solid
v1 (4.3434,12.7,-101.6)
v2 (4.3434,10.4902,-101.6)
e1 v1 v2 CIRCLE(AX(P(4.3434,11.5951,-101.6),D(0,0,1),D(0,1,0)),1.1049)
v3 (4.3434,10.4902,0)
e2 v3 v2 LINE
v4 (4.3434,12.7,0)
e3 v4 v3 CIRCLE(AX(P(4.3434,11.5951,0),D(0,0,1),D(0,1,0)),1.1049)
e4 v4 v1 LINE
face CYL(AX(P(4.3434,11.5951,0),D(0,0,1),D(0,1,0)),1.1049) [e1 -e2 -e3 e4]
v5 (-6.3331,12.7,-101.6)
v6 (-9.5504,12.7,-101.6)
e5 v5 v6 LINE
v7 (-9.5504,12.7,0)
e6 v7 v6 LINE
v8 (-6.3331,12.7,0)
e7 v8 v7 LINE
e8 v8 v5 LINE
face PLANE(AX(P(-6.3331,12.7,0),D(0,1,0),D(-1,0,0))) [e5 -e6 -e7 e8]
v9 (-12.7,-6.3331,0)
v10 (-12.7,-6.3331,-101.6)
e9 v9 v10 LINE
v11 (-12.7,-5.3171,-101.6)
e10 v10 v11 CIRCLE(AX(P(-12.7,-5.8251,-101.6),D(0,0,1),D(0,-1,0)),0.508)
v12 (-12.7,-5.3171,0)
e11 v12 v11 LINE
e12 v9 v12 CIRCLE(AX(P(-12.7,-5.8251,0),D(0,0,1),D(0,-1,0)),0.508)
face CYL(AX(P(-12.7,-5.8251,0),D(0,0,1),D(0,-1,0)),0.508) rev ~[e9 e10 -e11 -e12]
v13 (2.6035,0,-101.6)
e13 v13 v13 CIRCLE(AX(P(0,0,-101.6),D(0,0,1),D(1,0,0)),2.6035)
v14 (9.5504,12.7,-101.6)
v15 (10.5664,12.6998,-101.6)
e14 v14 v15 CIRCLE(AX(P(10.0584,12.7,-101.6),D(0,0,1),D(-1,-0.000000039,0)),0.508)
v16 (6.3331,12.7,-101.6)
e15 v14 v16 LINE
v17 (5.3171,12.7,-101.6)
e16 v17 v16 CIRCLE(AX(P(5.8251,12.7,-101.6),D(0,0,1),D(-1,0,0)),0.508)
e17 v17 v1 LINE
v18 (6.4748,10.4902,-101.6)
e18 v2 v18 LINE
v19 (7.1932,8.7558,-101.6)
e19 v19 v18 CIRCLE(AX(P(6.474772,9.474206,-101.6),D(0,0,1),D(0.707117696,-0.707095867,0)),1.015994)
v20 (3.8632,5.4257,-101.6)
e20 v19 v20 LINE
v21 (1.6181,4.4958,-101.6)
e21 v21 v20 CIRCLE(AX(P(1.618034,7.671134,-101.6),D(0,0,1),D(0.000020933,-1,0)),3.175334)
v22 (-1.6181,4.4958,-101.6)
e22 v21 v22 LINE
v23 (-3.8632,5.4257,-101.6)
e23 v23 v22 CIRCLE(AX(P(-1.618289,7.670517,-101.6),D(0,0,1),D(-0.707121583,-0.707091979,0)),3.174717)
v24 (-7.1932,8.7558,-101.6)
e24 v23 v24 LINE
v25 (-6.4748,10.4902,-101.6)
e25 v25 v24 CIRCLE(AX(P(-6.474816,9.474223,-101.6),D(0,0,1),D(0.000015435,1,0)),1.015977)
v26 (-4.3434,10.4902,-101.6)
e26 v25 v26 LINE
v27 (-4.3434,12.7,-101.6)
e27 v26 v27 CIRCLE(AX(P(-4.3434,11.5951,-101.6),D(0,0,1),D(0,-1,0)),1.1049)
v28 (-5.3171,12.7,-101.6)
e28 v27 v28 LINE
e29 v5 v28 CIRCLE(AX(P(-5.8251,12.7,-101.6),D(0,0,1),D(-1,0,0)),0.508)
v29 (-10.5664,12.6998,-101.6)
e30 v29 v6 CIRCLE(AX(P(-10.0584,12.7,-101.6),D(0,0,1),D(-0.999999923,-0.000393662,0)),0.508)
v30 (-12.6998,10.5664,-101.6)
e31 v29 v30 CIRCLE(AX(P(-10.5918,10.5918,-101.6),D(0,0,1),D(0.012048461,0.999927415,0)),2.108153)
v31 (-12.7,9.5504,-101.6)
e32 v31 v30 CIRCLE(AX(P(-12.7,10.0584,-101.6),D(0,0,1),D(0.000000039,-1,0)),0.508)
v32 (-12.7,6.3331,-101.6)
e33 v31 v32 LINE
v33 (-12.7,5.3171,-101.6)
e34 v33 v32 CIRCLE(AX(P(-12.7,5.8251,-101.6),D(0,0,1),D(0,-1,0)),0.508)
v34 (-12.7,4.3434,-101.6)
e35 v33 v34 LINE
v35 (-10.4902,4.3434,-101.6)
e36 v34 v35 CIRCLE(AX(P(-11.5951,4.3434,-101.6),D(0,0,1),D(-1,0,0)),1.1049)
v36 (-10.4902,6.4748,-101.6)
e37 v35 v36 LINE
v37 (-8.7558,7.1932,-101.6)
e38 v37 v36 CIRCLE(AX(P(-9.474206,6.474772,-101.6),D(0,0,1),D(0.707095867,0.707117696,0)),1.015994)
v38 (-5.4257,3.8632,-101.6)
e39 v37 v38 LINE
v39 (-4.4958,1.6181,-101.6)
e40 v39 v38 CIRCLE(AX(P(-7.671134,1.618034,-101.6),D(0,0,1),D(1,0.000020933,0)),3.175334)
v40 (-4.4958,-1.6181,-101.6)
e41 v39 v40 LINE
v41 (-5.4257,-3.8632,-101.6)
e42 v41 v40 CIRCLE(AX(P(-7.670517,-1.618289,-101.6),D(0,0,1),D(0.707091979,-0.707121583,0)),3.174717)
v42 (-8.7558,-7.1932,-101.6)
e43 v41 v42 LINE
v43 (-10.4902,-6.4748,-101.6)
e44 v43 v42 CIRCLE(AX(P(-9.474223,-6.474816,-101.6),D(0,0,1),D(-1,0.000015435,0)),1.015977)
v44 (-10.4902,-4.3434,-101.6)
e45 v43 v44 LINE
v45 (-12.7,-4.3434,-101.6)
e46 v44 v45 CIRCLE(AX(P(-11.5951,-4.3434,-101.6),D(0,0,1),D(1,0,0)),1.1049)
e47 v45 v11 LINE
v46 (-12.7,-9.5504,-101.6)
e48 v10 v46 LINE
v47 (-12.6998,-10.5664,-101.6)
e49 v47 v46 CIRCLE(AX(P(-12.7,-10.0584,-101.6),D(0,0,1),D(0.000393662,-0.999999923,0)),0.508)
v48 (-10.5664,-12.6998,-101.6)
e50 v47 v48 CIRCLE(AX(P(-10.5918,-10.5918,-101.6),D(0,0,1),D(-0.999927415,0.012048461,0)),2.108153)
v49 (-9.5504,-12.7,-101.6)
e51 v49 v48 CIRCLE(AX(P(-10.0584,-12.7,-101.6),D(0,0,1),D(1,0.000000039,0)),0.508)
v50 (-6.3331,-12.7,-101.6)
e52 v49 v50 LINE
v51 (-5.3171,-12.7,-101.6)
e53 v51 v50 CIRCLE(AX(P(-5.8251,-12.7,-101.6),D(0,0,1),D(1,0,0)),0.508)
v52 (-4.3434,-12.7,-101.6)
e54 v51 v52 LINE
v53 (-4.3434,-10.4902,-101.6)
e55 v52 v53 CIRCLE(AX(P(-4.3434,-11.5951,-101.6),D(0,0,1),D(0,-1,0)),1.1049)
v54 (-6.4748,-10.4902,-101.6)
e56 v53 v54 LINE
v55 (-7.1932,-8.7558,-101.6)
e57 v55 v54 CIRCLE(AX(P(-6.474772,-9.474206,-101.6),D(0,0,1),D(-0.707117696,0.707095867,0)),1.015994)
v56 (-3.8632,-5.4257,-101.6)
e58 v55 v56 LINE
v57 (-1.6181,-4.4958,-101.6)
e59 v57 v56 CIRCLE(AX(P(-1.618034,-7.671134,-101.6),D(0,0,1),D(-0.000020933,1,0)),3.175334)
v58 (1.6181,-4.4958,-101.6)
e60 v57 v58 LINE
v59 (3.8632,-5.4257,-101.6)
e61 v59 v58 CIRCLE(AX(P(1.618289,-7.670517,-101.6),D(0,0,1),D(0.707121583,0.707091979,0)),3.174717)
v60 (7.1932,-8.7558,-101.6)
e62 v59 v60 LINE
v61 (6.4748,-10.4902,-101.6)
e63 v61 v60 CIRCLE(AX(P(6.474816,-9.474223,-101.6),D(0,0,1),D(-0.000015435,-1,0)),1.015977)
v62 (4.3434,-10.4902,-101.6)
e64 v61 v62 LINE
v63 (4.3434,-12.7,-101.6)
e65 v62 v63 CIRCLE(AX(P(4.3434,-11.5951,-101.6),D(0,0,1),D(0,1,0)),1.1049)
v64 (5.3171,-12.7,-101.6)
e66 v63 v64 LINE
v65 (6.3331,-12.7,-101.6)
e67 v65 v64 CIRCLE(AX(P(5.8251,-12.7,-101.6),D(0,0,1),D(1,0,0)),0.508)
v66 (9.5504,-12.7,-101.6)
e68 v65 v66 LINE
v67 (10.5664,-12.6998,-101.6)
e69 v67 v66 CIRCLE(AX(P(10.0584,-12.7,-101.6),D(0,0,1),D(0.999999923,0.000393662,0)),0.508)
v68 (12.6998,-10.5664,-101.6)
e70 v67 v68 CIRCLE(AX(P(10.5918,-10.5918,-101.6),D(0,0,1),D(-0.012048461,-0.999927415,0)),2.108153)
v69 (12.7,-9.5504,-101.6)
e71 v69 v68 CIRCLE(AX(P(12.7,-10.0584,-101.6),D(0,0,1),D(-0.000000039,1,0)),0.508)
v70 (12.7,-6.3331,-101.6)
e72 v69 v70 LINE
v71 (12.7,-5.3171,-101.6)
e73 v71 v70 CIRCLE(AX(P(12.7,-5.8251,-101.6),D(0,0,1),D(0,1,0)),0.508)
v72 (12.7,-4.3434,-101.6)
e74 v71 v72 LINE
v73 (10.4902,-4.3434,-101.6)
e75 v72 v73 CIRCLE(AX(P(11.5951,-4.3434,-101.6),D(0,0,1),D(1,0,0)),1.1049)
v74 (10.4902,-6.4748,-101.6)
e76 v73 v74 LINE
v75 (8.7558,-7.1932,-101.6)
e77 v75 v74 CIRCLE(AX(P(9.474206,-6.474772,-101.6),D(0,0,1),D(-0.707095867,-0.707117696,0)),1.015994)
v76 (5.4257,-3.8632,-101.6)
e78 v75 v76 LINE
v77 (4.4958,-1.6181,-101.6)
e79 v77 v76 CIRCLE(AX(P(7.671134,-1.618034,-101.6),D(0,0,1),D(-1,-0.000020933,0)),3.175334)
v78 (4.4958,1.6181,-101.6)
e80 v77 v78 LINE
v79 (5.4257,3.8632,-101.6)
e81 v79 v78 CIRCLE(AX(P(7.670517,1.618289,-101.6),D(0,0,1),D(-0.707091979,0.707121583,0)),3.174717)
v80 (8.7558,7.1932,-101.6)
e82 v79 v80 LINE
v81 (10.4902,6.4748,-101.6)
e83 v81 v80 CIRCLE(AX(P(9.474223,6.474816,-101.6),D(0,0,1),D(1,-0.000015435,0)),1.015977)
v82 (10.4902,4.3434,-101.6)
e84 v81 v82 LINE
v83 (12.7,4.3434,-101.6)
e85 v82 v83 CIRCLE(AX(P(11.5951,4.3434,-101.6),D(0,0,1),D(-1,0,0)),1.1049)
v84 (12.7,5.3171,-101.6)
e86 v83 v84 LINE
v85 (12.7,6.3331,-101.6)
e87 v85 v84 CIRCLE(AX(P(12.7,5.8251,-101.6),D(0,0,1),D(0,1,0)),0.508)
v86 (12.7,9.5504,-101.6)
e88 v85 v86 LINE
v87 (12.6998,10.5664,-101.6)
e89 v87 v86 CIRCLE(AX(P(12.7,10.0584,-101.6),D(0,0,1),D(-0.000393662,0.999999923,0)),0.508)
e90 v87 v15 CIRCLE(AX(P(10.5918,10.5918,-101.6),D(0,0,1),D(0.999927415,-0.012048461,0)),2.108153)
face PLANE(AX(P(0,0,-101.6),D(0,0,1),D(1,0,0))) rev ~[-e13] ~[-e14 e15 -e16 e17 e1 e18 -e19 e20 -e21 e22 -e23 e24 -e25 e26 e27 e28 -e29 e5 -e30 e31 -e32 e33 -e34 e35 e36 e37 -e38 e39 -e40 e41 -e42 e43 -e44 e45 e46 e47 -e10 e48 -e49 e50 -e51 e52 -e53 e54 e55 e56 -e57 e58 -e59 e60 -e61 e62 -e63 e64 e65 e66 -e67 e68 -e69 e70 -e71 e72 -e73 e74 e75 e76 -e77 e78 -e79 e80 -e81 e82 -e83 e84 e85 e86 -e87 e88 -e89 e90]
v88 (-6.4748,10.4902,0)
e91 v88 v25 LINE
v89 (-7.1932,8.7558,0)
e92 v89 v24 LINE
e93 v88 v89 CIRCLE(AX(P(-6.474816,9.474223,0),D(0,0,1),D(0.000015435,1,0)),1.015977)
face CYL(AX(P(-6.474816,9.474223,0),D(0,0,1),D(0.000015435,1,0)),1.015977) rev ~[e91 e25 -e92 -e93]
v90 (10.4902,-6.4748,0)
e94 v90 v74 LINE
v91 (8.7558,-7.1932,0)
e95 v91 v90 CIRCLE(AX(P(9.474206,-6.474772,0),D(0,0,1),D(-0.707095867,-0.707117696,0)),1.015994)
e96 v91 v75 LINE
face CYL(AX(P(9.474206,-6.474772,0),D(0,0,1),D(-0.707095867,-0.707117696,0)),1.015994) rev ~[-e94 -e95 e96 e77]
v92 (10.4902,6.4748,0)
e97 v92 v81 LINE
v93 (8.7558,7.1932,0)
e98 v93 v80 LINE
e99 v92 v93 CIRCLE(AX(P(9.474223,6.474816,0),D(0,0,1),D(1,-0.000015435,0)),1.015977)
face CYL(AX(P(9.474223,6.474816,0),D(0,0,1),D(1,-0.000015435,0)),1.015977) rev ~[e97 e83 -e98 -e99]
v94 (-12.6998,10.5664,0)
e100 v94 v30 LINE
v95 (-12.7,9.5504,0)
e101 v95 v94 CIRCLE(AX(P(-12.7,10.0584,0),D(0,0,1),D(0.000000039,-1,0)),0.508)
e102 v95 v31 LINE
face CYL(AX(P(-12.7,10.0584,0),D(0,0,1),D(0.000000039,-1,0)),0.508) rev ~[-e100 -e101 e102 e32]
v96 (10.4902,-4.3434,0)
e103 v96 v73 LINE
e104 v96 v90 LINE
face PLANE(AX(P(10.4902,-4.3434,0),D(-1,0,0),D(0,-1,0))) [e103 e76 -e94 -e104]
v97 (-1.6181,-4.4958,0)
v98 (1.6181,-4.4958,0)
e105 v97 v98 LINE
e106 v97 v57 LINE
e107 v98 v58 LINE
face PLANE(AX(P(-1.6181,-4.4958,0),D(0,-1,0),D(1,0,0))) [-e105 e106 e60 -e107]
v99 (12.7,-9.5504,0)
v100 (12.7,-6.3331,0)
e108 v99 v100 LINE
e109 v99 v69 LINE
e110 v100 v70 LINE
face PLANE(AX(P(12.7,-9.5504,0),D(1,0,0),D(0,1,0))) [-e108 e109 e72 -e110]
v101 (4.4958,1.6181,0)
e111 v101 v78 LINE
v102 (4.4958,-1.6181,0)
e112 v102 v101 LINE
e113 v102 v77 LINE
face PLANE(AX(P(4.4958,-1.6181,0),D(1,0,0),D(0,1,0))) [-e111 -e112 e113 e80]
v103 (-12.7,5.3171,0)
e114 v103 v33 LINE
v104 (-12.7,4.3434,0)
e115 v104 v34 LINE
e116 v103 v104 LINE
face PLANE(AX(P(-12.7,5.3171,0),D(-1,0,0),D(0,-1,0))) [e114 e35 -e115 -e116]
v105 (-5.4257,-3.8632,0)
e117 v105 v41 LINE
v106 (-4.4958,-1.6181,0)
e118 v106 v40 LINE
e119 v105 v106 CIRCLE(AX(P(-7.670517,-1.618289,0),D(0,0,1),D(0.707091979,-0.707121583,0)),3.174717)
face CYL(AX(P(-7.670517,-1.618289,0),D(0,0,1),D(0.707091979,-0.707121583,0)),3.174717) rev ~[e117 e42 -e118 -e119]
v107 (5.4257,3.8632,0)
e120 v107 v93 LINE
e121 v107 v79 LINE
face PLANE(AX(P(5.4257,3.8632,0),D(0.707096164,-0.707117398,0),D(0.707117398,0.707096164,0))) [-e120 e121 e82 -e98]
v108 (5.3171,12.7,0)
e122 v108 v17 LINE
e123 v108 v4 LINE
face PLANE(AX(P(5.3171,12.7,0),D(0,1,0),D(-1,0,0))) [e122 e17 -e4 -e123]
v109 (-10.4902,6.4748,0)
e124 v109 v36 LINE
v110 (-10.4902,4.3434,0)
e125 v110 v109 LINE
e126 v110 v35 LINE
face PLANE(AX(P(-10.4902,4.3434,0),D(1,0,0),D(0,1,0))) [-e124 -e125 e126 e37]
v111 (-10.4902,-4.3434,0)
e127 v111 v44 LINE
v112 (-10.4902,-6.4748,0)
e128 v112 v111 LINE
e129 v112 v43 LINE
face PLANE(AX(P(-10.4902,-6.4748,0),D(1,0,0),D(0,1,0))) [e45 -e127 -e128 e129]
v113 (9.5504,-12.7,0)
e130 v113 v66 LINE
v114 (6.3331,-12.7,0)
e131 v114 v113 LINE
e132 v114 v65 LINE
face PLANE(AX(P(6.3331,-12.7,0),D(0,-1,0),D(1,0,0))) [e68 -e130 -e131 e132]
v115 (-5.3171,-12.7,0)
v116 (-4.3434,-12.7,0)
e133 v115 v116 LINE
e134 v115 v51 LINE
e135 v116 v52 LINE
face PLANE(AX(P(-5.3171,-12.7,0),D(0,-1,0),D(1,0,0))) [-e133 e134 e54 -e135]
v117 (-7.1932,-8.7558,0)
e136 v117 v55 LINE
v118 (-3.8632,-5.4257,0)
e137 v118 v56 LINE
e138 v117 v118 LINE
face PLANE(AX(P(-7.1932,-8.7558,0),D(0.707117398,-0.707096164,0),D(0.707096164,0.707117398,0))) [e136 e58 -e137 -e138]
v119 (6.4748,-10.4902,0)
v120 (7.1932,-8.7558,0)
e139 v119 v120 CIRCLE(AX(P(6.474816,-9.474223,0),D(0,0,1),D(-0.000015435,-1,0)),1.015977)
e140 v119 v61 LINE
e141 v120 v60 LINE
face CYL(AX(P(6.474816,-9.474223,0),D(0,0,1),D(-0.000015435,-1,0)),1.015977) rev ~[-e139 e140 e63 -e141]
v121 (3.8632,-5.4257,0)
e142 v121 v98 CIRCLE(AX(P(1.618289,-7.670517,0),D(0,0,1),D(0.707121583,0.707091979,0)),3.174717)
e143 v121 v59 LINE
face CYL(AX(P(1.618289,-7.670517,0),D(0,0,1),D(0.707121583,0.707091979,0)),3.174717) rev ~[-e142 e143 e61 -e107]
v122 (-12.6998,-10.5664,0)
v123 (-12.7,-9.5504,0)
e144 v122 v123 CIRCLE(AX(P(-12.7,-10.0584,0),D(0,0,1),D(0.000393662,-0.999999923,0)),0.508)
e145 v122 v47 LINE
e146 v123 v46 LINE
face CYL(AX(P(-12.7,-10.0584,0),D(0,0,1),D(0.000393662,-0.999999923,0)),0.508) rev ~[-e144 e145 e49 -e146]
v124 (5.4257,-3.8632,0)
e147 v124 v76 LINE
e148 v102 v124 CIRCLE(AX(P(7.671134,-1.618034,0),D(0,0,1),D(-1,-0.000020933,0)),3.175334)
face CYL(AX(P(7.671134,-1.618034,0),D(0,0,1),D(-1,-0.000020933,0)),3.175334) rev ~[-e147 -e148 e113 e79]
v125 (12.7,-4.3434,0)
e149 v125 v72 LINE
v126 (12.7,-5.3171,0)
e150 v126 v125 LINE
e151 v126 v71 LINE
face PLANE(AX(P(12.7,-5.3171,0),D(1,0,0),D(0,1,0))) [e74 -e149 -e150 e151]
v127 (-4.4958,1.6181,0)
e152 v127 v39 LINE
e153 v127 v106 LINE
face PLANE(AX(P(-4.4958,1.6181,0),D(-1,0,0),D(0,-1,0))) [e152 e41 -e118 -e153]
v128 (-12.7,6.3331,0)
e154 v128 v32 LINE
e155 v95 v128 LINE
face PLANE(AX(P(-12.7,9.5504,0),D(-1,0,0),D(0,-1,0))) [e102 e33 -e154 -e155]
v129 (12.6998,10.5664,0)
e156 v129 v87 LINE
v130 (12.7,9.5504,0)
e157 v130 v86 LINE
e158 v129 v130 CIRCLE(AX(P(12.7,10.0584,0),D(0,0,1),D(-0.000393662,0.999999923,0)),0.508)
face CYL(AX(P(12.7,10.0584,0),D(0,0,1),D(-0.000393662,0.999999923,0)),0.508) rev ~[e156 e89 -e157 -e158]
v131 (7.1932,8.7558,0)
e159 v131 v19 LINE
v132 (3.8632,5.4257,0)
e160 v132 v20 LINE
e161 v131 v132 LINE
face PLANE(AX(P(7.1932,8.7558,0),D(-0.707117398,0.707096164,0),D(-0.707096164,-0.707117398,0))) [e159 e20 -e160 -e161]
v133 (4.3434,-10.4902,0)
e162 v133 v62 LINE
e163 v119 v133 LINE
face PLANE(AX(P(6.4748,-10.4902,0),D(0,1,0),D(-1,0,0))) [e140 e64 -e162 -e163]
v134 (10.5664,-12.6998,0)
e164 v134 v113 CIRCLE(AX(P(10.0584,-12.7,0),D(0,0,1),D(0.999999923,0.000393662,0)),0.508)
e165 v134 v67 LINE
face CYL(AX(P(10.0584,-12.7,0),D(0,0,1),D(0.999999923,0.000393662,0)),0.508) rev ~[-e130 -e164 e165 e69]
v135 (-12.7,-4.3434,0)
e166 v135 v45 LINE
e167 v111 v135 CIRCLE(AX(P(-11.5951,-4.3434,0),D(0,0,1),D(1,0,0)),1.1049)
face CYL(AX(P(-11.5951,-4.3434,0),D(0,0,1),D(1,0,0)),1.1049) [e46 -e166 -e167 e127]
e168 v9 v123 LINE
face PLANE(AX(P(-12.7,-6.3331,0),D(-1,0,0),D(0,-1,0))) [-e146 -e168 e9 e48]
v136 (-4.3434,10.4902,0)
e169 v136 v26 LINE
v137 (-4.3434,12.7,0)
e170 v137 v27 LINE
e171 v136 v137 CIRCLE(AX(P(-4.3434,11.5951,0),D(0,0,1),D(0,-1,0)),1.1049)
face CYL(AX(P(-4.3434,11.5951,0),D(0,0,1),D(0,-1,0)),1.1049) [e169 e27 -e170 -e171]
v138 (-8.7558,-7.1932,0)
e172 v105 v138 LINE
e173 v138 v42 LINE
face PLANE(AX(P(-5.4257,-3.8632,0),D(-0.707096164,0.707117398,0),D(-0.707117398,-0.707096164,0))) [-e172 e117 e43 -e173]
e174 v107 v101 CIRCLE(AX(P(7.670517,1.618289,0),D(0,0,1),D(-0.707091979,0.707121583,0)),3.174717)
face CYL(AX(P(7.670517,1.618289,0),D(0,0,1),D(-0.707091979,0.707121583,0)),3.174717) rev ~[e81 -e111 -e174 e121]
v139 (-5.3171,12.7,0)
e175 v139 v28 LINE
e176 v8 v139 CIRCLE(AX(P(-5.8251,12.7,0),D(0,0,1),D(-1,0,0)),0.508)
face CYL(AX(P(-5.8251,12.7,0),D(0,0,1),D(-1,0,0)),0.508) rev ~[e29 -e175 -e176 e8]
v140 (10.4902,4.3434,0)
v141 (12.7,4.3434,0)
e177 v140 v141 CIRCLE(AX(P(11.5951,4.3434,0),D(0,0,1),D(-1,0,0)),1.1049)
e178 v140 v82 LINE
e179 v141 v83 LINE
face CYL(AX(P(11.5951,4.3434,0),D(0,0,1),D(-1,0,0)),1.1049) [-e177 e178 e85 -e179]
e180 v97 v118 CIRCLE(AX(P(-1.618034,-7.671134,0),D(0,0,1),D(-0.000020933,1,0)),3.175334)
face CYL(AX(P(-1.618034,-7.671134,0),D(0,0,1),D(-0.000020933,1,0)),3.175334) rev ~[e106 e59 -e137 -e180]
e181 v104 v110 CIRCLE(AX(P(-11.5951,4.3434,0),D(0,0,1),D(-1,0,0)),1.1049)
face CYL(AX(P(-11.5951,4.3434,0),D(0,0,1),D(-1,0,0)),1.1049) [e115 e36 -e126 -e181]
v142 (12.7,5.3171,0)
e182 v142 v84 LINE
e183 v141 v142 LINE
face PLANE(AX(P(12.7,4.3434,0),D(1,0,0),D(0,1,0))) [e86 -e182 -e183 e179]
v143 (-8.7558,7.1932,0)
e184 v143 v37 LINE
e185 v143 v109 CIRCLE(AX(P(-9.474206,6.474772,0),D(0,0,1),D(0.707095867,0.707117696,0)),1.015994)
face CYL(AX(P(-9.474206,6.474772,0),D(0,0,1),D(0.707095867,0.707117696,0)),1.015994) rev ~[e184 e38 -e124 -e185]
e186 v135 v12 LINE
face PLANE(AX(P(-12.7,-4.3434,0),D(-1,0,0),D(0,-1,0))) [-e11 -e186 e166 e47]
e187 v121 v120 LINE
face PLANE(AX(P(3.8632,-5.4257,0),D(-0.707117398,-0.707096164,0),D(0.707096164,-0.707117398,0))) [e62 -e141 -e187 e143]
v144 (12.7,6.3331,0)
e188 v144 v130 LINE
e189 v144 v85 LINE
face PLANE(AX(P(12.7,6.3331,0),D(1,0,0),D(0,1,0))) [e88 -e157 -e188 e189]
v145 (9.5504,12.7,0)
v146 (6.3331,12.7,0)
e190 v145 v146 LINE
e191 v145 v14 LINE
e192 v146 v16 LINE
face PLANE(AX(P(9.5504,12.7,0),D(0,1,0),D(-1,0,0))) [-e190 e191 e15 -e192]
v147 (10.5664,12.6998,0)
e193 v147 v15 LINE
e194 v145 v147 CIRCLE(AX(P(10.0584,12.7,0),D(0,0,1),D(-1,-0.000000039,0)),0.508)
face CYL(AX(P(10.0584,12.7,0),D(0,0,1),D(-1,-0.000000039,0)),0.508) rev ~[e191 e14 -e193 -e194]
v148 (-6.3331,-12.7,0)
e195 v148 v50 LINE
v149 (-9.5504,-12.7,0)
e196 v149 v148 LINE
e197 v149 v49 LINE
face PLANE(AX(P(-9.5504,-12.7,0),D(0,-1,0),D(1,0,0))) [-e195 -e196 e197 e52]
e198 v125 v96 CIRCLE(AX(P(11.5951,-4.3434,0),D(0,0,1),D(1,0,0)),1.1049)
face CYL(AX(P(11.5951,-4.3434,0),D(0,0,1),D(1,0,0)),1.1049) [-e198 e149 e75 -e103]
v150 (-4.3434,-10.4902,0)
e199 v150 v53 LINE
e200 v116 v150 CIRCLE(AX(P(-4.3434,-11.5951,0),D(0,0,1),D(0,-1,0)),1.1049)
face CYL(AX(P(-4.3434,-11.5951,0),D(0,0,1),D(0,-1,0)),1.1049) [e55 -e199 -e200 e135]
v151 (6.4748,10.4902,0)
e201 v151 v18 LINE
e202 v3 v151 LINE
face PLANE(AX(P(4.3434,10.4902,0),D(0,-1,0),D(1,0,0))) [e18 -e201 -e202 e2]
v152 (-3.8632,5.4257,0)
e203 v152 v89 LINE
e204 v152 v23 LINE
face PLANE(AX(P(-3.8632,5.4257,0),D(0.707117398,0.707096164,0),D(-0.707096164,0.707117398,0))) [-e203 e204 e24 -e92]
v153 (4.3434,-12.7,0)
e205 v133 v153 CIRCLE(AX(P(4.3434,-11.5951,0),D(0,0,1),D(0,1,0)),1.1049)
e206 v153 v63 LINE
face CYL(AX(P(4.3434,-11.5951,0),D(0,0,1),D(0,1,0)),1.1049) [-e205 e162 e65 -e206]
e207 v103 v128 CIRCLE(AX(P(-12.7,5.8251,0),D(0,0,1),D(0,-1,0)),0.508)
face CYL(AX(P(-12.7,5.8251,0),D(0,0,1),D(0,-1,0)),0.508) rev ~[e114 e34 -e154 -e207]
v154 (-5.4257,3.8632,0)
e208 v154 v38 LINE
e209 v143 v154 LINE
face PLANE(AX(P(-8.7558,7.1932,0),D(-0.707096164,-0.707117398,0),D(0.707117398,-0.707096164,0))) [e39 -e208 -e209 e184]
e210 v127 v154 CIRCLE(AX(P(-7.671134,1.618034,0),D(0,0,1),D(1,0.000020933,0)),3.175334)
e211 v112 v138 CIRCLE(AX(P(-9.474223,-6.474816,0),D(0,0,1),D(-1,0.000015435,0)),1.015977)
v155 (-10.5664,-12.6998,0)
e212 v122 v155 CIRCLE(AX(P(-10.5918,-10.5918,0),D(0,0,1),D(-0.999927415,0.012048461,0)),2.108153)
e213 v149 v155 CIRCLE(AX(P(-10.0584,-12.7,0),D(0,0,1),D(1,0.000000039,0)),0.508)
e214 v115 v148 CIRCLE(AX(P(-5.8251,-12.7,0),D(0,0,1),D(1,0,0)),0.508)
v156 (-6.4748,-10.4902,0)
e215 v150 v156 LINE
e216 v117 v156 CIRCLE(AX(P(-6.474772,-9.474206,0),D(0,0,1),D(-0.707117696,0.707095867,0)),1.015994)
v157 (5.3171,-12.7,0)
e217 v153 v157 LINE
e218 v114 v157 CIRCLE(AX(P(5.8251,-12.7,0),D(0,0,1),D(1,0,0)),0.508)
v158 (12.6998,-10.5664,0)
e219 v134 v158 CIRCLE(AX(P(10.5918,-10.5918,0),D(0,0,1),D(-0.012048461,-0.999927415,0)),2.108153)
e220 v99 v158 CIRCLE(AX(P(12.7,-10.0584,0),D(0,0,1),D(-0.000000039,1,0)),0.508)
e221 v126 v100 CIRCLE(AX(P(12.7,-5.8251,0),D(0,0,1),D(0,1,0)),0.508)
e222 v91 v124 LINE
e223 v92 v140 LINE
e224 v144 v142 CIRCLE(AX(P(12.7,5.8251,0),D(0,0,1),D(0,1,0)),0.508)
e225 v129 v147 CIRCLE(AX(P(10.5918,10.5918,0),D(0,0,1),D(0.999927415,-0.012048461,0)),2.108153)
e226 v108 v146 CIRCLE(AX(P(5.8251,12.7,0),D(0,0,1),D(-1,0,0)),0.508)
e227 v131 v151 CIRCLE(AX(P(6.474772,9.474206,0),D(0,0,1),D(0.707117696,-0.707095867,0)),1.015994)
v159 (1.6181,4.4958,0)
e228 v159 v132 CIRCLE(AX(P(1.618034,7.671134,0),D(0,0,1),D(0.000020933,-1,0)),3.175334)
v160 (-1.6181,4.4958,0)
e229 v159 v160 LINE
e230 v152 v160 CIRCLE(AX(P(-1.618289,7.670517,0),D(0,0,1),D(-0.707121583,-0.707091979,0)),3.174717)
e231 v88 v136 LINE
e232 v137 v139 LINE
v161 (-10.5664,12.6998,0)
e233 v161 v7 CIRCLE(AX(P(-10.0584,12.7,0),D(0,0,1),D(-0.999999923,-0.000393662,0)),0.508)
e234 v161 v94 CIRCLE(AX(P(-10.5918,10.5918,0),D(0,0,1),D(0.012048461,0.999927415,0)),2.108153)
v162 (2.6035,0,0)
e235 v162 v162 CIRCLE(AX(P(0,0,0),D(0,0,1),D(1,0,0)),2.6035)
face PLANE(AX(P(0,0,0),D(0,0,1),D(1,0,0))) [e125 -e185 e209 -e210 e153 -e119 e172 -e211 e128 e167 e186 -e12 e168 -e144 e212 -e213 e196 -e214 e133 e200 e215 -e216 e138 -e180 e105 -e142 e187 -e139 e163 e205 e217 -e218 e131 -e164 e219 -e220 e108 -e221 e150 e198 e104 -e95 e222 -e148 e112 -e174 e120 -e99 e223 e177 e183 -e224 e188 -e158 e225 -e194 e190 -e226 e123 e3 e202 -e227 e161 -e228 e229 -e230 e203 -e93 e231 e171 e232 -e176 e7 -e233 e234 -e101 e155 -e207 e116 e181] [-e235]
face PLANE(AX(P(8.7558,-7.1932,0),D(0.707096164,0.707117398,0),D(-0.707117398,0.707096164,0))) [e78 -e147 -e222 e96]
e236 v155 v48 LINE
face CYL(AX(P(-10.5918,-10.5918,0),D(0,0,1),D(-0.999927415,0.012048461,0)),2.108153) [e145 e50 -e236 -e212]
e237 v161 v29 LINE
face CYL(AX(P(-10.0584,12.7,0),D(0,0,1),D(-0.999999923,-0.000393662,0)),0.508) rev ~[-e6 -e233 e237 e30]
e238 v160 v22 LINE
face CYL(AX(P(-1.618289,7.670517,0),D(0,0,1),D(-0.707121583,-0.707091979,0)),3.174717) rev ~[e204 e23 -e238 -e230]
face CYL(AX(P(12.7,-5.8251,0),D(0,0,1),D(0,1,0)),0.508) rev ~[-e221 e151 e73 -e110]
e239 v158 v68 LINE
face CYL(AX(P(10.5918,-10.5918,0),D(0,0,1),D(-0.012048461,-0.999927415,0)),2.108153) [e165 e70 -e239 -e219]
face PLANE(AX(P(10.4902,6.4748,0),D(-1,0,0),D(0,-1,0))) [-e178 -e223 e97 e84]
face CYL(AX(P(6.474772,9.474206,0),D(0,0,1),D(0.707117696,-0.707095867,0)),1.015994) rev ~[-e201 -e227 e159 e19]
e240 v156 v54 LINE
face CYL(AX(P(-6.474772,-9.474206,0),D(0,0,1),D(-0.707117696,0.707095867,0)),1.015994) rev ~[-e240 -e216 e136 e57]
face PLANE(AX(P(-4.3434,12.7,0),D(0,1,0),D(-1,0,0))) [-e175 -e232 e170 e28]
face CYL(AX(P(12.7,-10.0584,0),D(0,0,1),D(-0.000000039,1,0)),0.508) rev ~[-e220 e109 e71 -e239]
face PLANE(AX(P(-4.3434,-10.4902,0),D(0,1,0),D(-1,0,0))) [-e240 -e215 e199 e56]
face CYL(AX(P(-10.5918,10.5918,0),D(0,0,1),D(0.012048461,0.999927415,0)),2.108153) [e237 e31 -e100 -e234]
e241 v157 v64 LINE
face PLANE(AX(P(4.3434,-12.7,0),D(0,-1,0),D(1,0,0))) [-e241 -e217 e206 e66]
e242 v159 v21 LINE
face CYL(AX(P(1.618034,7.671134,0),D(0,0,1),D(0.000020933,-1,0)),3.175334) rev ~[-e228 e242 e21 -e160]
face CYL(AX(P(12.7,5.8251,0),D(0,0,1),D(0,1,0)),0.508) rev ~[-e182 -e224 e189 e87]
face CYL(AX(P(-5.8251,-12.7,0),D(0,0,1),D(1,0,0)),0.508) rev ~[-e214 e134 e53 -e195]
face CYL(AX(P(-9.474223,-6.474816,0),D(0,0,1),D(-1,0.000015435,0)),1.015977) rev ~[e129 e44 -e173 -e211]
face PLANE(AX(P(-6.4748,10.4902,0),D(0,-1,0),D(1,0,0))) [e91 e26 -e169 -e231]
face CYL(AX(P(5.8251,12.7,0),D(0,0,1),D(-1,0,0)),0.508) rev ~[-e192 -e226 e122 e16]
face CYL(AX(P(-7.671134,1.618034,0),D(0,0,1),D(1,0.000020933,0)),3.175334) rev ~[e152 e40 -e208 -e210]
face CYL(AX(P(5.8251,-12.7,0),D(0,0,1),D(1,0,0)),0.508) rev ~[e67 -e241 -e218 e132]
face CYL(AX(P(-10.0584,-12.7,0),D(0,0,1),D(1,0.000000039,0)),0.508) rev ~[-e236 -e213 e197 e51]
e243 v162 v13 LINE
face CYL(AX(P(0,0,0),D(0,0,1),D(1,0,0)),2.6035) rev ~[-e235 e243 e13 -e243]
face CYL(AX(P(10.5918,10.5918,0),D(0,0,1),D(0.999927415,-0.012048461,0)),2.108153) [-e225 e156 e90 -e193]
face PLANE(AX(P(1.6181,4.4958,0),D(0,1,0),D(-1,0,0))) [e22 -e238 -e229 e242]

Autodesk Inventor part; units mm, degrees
ref_plane "YZ Plane" through (0, 0, 0) normal (1, 0, 0) x (0, 1, 0)
ref_plane "XZ Plane" through (0, 0, 0) normal (0, 1, 0) x (-1, 0, 0)
ref_plane "XY Plane" through (0, 0, 0) normal (0, 0, 1) x (1, 0, 0)
sketch "Sketch_1" plane through (0, 0, 0) normal (0, 0, 1) x (1, 0, 0)
  arc A0 (-12.6998, -10.5664) -> (-10.5664, -12.6998) centre (-10.5918, -10.5918) ccw
  arc A1 (-9.5504, -12.7) -> (-10.5664, -12.6998) centre (-10.0584, -12.7) ccw
  line L0 (-9.5504, -12.7) -> (-6.3331, -12.7)
  arc A2 (-5.3171, -12.7) -> (-6.3331, -12.7) centre (-5.8251, -12.7) ccw
  line L1 (-5.3171, -12.7) -> (-4.3434, -12.7)
  arc A3 (-4.3434, -12.7) -> (-4.3434, -10.4902) centre (-4.3434, -11.5951) ccw
  line L2 (-4.3434, -10.4902) -> (-6.4748, -10.4902)
  arc A4 (-7.1932, -8.7558) -> (-6.4748, -10.4902) centre (-6.4748, -9.4742) ccw
  line L3 (-7.1932, -8.7558) -> (-3.8632, -5.4257)
  arc A5 (-1.6181, -4.4958) -> (-3.8632, -5.4257) centre (-1.6181, -7.6708) ccw
  line L4 (-1.6181, -4.4958) -> (1.6181, -4.4958)
  arc A6 (3.8632, -5.4257) -> (1.6181, -4.4958) centre (1.6181, -7.6708) ccw
  line L5 (3.8632, -5.4257) -> (7.1932, -8.7558)
  arc A7 (6.4748, -10.4902) -> (7.1932, -8.7558) centre (6.4748, -9.4742) ccw
  line L6 (6.4748, -10.4902) -> (4.3434, -10.4902)
  arc A8 (4.3434, -10.4902) -> (4.3434, -12.7) centre (4.3434, -11.5951) ccw
  line L7 (4.3434, -12.7) -> (5.3171, -12.7)
  arc A9 (6.3331, -12.7) -> (5.3171, -12.7) centre (5.8251, -12.7) ccw
  line L8 (6.3331, -12.7) -> (9.5504, -12.7)
  arc A10 (10.5664, -12.6998) -> (9.5504, -12.7) centre (10.0584, -12.7) ccw
  arc A11 (10.5664, -12.6998) -> (12.6998, -10.5664) centre (10.5918, -10.5918) ccw
  arc A12 (12.7, -9.5504) -> (12.6998, -10.5664) centre (12.7, -10.0584) ccw
  line L9 (12.7, -9.5504) -> (12.7, -6.3331)
  arc A13 (12.7, -5.3171) -> (12.7, -6.3331) centre (12.7, -5.8251) ccw
  line L10 (12.7, -5.3171) -> (12.7, -4.3434)
  arc A14 (12.7, -4.3434) -> (10.4902, -4.3434) centre (11.5951, -4.3434) ccw
  line L11 (10.4902, -4.3434) -> (10.4902, -6.4748)
  arc A15 (8.7558, -7.1932) -> (10.4902, -6.4748) centre (9.4742, -6.4748) ccw
  line L12 (8.7558, -7.1932) -> (5.4257, -3.8632)
  arc A16 (4.4958, -1.6181) -> (5.4257, -3.8632) centre (7.6708, -1.6181) ccw
  line L13 (4.4958, -1.6181) -> (4.4958, 1.6181)
  arc A17 (5.4257, 3.8632) -> (4.4958, 1.6181) centre (7.6708, 1.6181) ccw
  line L14 (5.4257, 3.8632) -> (8.7558, 7.1932)
  arc A18 (10.4902, 6.4748) -> (8.7558, 7.1932) centre (9.4742, 6.4748) ccw
  line L15 (10.4902, 6.4748) -> (10.4902, 4.3434)
  arc A19 (10.4902, 4.3434) -> (12.7, 4.3434) centre (11.5951, 4.3434) ccw
  line L16 (12.7, 4.3434) -> (12.7, 5.3171)
  arc A20 (12.7, 6.3331) -> (12.7, 5.3171) centre (12.7, 5.8251) ccw
  line L17 (12.7, 6.3331) -> (12.7, 9.5504)
  arc A21 (12.6998, 10.5664) -> (12.7, 9.5504) centre (12.7, 10.0584) ccw
  arc A22 (12.6998, 10.5664) -> (10.5664, 12.6998) centre (10.5918, 10.5918) ccw
  arc A23 (9.5504, 12.7) -> (10.5664, 12.6998) centre (10.0584, 12.7) ccw
  line L18 (9.5504, 12.7) -> (6.3331, 12.7)
  arc A24 (5.3171, 12.7) -> (6.3331, 12.7) centre (5.8251, 12.7) ccw
  line L19 (5.3171, 12.7) -> (4.3434, 12.7)
  arc A25 (4.3434, 12.7) -> (4.3434, 10.4902) centre (4.3434, 11.5951) ccw
  line L20 (4.3434, 10.4902) -> (6.4748, 10.4902)
  arc A26 (7.1932, 8.7558) -> (6.4748, 10.4902) centre (6.4748, 9.4742) ccw
  line L21 (7.1932, 8.7558) -> (3.8632, 5.4257)
  arc A27 (1.6181, 4.4958) -> (3.8632, 5.4257) centre (1.6181, 7.6708) ccw
  line L22 (1.6181, 4.4958) -> (-1.6181, 4.4958)
  arc A28 (-3.8632, 5.4257) -> (-1.6181, 4.4958) centre (-1.6181, 7.6708) ccw
  line L23 (-3.8632, 5.4257) -> (-7.1932, 8.7558)
  arc A29 (-6.4748, 10.4902) -> (-7.1932, 8.7558) centre (-6.4748, 9.4742) ccw
  line L24 (-6.4748, 10.4902) -> (-4.3434, 10.4902)
  arc A30 (-4.3434, 10.4902) -> (-4.3434, 12.7) centre (-4.3434, 11.5951) ccw
  line L25 (-4.3434, 12.7) -> (-5.3171, 12.7)
  arc A31 (-6.3331, 12.7) -> (-5.3171, 12.7) centre (-5.8251, 12.7) ccw
  line L26 (-6.3331, 12.7) -> (-9.5504, 12.7)
  arc A32 (-10.5664, 12.6998) -> (-9.5504, 12.7) centre (-10.0584, 12.7) ccw
  arc A33 (-10.5664, 12.6998) -> (-12.6998, 10.5664) centre (-10.5918, 10.5918) ccw
  arc A34 (-12.7, 9.5504) -> (-12.6998, 10.5664) centre (-12.7, 10.0584) ccw
  line L27 (-12.7, 9.5504) -> (-12.7, 6.3331)
  arc A35 (-12.7, 5.3171) -> (-12.7, 6.3331) centre (-12.7, 5.8251) ccw
  line L28 (-12.7, 5.3171) -> (-12.7, 4.3434)
  arc A36 (-12.7, 4.3434) -> (-10.4902, 4.3434) centre (-11.5951, 4.3434) ccw
  line L29 (-10.4902, 4.3434) -> (-10.4902, 6.4748)
  arc A37 (-8.7558, 7.1932) -> (-10.4902, 6.4748) centre (-9.4742, 6.4748) ccw
  line L30 (-8.7558, 7.1932) -> (-5.4257, 3.8632)
  arc A38 (-4.4958, 1.6181) -> (-5.4257, 3.8632) centre (-7.6708, 1.6181) ccw
  line L31 (-4.4958, 1.6181) -> (-4.4958, -1.6181)
  arc A39 (-5.4257, -3.8632) -> (-4.4958, -1.6181) centre (-7.6708, -1.6181) ccw
  line L32 (-5.4257, -3.8632) -> (-8.7558, -7.1932)
  arc A40 (-10.4902, -6.4748) -> (-8.7558, -7.1932) centre (-9.4742, -6.4748) ccw
  line L33 (-10.4902, -6.4748) -> (-10.4902, -4.3434)
  arc A41 (-10.4902, -4.3434) -> (-12.7, -4.3434) centre (-11.5951, -4.3434) ccw
  line L34 (-12.7, -4.3434) -> (-12.7, -5.3171)
  arc A42 (-12.7, -6.3331) -> (-12.7, -5.3171) centre (-12.7, -5.8251) ccw
  line L35 (-12.7, -6.3331) -> (-12.7, -9.5504)
  arc A43 (-12.6998, -10.5664) -> (-12.7, -9.5504) centre (-12.7, -10.0584) ccw
  circle A44 centre (0, 0) radius 2.6035
extrude "Extrusion1" add sketch "Sketch_1" against normal blind 101.6
properties part number "1010-15-CL"
